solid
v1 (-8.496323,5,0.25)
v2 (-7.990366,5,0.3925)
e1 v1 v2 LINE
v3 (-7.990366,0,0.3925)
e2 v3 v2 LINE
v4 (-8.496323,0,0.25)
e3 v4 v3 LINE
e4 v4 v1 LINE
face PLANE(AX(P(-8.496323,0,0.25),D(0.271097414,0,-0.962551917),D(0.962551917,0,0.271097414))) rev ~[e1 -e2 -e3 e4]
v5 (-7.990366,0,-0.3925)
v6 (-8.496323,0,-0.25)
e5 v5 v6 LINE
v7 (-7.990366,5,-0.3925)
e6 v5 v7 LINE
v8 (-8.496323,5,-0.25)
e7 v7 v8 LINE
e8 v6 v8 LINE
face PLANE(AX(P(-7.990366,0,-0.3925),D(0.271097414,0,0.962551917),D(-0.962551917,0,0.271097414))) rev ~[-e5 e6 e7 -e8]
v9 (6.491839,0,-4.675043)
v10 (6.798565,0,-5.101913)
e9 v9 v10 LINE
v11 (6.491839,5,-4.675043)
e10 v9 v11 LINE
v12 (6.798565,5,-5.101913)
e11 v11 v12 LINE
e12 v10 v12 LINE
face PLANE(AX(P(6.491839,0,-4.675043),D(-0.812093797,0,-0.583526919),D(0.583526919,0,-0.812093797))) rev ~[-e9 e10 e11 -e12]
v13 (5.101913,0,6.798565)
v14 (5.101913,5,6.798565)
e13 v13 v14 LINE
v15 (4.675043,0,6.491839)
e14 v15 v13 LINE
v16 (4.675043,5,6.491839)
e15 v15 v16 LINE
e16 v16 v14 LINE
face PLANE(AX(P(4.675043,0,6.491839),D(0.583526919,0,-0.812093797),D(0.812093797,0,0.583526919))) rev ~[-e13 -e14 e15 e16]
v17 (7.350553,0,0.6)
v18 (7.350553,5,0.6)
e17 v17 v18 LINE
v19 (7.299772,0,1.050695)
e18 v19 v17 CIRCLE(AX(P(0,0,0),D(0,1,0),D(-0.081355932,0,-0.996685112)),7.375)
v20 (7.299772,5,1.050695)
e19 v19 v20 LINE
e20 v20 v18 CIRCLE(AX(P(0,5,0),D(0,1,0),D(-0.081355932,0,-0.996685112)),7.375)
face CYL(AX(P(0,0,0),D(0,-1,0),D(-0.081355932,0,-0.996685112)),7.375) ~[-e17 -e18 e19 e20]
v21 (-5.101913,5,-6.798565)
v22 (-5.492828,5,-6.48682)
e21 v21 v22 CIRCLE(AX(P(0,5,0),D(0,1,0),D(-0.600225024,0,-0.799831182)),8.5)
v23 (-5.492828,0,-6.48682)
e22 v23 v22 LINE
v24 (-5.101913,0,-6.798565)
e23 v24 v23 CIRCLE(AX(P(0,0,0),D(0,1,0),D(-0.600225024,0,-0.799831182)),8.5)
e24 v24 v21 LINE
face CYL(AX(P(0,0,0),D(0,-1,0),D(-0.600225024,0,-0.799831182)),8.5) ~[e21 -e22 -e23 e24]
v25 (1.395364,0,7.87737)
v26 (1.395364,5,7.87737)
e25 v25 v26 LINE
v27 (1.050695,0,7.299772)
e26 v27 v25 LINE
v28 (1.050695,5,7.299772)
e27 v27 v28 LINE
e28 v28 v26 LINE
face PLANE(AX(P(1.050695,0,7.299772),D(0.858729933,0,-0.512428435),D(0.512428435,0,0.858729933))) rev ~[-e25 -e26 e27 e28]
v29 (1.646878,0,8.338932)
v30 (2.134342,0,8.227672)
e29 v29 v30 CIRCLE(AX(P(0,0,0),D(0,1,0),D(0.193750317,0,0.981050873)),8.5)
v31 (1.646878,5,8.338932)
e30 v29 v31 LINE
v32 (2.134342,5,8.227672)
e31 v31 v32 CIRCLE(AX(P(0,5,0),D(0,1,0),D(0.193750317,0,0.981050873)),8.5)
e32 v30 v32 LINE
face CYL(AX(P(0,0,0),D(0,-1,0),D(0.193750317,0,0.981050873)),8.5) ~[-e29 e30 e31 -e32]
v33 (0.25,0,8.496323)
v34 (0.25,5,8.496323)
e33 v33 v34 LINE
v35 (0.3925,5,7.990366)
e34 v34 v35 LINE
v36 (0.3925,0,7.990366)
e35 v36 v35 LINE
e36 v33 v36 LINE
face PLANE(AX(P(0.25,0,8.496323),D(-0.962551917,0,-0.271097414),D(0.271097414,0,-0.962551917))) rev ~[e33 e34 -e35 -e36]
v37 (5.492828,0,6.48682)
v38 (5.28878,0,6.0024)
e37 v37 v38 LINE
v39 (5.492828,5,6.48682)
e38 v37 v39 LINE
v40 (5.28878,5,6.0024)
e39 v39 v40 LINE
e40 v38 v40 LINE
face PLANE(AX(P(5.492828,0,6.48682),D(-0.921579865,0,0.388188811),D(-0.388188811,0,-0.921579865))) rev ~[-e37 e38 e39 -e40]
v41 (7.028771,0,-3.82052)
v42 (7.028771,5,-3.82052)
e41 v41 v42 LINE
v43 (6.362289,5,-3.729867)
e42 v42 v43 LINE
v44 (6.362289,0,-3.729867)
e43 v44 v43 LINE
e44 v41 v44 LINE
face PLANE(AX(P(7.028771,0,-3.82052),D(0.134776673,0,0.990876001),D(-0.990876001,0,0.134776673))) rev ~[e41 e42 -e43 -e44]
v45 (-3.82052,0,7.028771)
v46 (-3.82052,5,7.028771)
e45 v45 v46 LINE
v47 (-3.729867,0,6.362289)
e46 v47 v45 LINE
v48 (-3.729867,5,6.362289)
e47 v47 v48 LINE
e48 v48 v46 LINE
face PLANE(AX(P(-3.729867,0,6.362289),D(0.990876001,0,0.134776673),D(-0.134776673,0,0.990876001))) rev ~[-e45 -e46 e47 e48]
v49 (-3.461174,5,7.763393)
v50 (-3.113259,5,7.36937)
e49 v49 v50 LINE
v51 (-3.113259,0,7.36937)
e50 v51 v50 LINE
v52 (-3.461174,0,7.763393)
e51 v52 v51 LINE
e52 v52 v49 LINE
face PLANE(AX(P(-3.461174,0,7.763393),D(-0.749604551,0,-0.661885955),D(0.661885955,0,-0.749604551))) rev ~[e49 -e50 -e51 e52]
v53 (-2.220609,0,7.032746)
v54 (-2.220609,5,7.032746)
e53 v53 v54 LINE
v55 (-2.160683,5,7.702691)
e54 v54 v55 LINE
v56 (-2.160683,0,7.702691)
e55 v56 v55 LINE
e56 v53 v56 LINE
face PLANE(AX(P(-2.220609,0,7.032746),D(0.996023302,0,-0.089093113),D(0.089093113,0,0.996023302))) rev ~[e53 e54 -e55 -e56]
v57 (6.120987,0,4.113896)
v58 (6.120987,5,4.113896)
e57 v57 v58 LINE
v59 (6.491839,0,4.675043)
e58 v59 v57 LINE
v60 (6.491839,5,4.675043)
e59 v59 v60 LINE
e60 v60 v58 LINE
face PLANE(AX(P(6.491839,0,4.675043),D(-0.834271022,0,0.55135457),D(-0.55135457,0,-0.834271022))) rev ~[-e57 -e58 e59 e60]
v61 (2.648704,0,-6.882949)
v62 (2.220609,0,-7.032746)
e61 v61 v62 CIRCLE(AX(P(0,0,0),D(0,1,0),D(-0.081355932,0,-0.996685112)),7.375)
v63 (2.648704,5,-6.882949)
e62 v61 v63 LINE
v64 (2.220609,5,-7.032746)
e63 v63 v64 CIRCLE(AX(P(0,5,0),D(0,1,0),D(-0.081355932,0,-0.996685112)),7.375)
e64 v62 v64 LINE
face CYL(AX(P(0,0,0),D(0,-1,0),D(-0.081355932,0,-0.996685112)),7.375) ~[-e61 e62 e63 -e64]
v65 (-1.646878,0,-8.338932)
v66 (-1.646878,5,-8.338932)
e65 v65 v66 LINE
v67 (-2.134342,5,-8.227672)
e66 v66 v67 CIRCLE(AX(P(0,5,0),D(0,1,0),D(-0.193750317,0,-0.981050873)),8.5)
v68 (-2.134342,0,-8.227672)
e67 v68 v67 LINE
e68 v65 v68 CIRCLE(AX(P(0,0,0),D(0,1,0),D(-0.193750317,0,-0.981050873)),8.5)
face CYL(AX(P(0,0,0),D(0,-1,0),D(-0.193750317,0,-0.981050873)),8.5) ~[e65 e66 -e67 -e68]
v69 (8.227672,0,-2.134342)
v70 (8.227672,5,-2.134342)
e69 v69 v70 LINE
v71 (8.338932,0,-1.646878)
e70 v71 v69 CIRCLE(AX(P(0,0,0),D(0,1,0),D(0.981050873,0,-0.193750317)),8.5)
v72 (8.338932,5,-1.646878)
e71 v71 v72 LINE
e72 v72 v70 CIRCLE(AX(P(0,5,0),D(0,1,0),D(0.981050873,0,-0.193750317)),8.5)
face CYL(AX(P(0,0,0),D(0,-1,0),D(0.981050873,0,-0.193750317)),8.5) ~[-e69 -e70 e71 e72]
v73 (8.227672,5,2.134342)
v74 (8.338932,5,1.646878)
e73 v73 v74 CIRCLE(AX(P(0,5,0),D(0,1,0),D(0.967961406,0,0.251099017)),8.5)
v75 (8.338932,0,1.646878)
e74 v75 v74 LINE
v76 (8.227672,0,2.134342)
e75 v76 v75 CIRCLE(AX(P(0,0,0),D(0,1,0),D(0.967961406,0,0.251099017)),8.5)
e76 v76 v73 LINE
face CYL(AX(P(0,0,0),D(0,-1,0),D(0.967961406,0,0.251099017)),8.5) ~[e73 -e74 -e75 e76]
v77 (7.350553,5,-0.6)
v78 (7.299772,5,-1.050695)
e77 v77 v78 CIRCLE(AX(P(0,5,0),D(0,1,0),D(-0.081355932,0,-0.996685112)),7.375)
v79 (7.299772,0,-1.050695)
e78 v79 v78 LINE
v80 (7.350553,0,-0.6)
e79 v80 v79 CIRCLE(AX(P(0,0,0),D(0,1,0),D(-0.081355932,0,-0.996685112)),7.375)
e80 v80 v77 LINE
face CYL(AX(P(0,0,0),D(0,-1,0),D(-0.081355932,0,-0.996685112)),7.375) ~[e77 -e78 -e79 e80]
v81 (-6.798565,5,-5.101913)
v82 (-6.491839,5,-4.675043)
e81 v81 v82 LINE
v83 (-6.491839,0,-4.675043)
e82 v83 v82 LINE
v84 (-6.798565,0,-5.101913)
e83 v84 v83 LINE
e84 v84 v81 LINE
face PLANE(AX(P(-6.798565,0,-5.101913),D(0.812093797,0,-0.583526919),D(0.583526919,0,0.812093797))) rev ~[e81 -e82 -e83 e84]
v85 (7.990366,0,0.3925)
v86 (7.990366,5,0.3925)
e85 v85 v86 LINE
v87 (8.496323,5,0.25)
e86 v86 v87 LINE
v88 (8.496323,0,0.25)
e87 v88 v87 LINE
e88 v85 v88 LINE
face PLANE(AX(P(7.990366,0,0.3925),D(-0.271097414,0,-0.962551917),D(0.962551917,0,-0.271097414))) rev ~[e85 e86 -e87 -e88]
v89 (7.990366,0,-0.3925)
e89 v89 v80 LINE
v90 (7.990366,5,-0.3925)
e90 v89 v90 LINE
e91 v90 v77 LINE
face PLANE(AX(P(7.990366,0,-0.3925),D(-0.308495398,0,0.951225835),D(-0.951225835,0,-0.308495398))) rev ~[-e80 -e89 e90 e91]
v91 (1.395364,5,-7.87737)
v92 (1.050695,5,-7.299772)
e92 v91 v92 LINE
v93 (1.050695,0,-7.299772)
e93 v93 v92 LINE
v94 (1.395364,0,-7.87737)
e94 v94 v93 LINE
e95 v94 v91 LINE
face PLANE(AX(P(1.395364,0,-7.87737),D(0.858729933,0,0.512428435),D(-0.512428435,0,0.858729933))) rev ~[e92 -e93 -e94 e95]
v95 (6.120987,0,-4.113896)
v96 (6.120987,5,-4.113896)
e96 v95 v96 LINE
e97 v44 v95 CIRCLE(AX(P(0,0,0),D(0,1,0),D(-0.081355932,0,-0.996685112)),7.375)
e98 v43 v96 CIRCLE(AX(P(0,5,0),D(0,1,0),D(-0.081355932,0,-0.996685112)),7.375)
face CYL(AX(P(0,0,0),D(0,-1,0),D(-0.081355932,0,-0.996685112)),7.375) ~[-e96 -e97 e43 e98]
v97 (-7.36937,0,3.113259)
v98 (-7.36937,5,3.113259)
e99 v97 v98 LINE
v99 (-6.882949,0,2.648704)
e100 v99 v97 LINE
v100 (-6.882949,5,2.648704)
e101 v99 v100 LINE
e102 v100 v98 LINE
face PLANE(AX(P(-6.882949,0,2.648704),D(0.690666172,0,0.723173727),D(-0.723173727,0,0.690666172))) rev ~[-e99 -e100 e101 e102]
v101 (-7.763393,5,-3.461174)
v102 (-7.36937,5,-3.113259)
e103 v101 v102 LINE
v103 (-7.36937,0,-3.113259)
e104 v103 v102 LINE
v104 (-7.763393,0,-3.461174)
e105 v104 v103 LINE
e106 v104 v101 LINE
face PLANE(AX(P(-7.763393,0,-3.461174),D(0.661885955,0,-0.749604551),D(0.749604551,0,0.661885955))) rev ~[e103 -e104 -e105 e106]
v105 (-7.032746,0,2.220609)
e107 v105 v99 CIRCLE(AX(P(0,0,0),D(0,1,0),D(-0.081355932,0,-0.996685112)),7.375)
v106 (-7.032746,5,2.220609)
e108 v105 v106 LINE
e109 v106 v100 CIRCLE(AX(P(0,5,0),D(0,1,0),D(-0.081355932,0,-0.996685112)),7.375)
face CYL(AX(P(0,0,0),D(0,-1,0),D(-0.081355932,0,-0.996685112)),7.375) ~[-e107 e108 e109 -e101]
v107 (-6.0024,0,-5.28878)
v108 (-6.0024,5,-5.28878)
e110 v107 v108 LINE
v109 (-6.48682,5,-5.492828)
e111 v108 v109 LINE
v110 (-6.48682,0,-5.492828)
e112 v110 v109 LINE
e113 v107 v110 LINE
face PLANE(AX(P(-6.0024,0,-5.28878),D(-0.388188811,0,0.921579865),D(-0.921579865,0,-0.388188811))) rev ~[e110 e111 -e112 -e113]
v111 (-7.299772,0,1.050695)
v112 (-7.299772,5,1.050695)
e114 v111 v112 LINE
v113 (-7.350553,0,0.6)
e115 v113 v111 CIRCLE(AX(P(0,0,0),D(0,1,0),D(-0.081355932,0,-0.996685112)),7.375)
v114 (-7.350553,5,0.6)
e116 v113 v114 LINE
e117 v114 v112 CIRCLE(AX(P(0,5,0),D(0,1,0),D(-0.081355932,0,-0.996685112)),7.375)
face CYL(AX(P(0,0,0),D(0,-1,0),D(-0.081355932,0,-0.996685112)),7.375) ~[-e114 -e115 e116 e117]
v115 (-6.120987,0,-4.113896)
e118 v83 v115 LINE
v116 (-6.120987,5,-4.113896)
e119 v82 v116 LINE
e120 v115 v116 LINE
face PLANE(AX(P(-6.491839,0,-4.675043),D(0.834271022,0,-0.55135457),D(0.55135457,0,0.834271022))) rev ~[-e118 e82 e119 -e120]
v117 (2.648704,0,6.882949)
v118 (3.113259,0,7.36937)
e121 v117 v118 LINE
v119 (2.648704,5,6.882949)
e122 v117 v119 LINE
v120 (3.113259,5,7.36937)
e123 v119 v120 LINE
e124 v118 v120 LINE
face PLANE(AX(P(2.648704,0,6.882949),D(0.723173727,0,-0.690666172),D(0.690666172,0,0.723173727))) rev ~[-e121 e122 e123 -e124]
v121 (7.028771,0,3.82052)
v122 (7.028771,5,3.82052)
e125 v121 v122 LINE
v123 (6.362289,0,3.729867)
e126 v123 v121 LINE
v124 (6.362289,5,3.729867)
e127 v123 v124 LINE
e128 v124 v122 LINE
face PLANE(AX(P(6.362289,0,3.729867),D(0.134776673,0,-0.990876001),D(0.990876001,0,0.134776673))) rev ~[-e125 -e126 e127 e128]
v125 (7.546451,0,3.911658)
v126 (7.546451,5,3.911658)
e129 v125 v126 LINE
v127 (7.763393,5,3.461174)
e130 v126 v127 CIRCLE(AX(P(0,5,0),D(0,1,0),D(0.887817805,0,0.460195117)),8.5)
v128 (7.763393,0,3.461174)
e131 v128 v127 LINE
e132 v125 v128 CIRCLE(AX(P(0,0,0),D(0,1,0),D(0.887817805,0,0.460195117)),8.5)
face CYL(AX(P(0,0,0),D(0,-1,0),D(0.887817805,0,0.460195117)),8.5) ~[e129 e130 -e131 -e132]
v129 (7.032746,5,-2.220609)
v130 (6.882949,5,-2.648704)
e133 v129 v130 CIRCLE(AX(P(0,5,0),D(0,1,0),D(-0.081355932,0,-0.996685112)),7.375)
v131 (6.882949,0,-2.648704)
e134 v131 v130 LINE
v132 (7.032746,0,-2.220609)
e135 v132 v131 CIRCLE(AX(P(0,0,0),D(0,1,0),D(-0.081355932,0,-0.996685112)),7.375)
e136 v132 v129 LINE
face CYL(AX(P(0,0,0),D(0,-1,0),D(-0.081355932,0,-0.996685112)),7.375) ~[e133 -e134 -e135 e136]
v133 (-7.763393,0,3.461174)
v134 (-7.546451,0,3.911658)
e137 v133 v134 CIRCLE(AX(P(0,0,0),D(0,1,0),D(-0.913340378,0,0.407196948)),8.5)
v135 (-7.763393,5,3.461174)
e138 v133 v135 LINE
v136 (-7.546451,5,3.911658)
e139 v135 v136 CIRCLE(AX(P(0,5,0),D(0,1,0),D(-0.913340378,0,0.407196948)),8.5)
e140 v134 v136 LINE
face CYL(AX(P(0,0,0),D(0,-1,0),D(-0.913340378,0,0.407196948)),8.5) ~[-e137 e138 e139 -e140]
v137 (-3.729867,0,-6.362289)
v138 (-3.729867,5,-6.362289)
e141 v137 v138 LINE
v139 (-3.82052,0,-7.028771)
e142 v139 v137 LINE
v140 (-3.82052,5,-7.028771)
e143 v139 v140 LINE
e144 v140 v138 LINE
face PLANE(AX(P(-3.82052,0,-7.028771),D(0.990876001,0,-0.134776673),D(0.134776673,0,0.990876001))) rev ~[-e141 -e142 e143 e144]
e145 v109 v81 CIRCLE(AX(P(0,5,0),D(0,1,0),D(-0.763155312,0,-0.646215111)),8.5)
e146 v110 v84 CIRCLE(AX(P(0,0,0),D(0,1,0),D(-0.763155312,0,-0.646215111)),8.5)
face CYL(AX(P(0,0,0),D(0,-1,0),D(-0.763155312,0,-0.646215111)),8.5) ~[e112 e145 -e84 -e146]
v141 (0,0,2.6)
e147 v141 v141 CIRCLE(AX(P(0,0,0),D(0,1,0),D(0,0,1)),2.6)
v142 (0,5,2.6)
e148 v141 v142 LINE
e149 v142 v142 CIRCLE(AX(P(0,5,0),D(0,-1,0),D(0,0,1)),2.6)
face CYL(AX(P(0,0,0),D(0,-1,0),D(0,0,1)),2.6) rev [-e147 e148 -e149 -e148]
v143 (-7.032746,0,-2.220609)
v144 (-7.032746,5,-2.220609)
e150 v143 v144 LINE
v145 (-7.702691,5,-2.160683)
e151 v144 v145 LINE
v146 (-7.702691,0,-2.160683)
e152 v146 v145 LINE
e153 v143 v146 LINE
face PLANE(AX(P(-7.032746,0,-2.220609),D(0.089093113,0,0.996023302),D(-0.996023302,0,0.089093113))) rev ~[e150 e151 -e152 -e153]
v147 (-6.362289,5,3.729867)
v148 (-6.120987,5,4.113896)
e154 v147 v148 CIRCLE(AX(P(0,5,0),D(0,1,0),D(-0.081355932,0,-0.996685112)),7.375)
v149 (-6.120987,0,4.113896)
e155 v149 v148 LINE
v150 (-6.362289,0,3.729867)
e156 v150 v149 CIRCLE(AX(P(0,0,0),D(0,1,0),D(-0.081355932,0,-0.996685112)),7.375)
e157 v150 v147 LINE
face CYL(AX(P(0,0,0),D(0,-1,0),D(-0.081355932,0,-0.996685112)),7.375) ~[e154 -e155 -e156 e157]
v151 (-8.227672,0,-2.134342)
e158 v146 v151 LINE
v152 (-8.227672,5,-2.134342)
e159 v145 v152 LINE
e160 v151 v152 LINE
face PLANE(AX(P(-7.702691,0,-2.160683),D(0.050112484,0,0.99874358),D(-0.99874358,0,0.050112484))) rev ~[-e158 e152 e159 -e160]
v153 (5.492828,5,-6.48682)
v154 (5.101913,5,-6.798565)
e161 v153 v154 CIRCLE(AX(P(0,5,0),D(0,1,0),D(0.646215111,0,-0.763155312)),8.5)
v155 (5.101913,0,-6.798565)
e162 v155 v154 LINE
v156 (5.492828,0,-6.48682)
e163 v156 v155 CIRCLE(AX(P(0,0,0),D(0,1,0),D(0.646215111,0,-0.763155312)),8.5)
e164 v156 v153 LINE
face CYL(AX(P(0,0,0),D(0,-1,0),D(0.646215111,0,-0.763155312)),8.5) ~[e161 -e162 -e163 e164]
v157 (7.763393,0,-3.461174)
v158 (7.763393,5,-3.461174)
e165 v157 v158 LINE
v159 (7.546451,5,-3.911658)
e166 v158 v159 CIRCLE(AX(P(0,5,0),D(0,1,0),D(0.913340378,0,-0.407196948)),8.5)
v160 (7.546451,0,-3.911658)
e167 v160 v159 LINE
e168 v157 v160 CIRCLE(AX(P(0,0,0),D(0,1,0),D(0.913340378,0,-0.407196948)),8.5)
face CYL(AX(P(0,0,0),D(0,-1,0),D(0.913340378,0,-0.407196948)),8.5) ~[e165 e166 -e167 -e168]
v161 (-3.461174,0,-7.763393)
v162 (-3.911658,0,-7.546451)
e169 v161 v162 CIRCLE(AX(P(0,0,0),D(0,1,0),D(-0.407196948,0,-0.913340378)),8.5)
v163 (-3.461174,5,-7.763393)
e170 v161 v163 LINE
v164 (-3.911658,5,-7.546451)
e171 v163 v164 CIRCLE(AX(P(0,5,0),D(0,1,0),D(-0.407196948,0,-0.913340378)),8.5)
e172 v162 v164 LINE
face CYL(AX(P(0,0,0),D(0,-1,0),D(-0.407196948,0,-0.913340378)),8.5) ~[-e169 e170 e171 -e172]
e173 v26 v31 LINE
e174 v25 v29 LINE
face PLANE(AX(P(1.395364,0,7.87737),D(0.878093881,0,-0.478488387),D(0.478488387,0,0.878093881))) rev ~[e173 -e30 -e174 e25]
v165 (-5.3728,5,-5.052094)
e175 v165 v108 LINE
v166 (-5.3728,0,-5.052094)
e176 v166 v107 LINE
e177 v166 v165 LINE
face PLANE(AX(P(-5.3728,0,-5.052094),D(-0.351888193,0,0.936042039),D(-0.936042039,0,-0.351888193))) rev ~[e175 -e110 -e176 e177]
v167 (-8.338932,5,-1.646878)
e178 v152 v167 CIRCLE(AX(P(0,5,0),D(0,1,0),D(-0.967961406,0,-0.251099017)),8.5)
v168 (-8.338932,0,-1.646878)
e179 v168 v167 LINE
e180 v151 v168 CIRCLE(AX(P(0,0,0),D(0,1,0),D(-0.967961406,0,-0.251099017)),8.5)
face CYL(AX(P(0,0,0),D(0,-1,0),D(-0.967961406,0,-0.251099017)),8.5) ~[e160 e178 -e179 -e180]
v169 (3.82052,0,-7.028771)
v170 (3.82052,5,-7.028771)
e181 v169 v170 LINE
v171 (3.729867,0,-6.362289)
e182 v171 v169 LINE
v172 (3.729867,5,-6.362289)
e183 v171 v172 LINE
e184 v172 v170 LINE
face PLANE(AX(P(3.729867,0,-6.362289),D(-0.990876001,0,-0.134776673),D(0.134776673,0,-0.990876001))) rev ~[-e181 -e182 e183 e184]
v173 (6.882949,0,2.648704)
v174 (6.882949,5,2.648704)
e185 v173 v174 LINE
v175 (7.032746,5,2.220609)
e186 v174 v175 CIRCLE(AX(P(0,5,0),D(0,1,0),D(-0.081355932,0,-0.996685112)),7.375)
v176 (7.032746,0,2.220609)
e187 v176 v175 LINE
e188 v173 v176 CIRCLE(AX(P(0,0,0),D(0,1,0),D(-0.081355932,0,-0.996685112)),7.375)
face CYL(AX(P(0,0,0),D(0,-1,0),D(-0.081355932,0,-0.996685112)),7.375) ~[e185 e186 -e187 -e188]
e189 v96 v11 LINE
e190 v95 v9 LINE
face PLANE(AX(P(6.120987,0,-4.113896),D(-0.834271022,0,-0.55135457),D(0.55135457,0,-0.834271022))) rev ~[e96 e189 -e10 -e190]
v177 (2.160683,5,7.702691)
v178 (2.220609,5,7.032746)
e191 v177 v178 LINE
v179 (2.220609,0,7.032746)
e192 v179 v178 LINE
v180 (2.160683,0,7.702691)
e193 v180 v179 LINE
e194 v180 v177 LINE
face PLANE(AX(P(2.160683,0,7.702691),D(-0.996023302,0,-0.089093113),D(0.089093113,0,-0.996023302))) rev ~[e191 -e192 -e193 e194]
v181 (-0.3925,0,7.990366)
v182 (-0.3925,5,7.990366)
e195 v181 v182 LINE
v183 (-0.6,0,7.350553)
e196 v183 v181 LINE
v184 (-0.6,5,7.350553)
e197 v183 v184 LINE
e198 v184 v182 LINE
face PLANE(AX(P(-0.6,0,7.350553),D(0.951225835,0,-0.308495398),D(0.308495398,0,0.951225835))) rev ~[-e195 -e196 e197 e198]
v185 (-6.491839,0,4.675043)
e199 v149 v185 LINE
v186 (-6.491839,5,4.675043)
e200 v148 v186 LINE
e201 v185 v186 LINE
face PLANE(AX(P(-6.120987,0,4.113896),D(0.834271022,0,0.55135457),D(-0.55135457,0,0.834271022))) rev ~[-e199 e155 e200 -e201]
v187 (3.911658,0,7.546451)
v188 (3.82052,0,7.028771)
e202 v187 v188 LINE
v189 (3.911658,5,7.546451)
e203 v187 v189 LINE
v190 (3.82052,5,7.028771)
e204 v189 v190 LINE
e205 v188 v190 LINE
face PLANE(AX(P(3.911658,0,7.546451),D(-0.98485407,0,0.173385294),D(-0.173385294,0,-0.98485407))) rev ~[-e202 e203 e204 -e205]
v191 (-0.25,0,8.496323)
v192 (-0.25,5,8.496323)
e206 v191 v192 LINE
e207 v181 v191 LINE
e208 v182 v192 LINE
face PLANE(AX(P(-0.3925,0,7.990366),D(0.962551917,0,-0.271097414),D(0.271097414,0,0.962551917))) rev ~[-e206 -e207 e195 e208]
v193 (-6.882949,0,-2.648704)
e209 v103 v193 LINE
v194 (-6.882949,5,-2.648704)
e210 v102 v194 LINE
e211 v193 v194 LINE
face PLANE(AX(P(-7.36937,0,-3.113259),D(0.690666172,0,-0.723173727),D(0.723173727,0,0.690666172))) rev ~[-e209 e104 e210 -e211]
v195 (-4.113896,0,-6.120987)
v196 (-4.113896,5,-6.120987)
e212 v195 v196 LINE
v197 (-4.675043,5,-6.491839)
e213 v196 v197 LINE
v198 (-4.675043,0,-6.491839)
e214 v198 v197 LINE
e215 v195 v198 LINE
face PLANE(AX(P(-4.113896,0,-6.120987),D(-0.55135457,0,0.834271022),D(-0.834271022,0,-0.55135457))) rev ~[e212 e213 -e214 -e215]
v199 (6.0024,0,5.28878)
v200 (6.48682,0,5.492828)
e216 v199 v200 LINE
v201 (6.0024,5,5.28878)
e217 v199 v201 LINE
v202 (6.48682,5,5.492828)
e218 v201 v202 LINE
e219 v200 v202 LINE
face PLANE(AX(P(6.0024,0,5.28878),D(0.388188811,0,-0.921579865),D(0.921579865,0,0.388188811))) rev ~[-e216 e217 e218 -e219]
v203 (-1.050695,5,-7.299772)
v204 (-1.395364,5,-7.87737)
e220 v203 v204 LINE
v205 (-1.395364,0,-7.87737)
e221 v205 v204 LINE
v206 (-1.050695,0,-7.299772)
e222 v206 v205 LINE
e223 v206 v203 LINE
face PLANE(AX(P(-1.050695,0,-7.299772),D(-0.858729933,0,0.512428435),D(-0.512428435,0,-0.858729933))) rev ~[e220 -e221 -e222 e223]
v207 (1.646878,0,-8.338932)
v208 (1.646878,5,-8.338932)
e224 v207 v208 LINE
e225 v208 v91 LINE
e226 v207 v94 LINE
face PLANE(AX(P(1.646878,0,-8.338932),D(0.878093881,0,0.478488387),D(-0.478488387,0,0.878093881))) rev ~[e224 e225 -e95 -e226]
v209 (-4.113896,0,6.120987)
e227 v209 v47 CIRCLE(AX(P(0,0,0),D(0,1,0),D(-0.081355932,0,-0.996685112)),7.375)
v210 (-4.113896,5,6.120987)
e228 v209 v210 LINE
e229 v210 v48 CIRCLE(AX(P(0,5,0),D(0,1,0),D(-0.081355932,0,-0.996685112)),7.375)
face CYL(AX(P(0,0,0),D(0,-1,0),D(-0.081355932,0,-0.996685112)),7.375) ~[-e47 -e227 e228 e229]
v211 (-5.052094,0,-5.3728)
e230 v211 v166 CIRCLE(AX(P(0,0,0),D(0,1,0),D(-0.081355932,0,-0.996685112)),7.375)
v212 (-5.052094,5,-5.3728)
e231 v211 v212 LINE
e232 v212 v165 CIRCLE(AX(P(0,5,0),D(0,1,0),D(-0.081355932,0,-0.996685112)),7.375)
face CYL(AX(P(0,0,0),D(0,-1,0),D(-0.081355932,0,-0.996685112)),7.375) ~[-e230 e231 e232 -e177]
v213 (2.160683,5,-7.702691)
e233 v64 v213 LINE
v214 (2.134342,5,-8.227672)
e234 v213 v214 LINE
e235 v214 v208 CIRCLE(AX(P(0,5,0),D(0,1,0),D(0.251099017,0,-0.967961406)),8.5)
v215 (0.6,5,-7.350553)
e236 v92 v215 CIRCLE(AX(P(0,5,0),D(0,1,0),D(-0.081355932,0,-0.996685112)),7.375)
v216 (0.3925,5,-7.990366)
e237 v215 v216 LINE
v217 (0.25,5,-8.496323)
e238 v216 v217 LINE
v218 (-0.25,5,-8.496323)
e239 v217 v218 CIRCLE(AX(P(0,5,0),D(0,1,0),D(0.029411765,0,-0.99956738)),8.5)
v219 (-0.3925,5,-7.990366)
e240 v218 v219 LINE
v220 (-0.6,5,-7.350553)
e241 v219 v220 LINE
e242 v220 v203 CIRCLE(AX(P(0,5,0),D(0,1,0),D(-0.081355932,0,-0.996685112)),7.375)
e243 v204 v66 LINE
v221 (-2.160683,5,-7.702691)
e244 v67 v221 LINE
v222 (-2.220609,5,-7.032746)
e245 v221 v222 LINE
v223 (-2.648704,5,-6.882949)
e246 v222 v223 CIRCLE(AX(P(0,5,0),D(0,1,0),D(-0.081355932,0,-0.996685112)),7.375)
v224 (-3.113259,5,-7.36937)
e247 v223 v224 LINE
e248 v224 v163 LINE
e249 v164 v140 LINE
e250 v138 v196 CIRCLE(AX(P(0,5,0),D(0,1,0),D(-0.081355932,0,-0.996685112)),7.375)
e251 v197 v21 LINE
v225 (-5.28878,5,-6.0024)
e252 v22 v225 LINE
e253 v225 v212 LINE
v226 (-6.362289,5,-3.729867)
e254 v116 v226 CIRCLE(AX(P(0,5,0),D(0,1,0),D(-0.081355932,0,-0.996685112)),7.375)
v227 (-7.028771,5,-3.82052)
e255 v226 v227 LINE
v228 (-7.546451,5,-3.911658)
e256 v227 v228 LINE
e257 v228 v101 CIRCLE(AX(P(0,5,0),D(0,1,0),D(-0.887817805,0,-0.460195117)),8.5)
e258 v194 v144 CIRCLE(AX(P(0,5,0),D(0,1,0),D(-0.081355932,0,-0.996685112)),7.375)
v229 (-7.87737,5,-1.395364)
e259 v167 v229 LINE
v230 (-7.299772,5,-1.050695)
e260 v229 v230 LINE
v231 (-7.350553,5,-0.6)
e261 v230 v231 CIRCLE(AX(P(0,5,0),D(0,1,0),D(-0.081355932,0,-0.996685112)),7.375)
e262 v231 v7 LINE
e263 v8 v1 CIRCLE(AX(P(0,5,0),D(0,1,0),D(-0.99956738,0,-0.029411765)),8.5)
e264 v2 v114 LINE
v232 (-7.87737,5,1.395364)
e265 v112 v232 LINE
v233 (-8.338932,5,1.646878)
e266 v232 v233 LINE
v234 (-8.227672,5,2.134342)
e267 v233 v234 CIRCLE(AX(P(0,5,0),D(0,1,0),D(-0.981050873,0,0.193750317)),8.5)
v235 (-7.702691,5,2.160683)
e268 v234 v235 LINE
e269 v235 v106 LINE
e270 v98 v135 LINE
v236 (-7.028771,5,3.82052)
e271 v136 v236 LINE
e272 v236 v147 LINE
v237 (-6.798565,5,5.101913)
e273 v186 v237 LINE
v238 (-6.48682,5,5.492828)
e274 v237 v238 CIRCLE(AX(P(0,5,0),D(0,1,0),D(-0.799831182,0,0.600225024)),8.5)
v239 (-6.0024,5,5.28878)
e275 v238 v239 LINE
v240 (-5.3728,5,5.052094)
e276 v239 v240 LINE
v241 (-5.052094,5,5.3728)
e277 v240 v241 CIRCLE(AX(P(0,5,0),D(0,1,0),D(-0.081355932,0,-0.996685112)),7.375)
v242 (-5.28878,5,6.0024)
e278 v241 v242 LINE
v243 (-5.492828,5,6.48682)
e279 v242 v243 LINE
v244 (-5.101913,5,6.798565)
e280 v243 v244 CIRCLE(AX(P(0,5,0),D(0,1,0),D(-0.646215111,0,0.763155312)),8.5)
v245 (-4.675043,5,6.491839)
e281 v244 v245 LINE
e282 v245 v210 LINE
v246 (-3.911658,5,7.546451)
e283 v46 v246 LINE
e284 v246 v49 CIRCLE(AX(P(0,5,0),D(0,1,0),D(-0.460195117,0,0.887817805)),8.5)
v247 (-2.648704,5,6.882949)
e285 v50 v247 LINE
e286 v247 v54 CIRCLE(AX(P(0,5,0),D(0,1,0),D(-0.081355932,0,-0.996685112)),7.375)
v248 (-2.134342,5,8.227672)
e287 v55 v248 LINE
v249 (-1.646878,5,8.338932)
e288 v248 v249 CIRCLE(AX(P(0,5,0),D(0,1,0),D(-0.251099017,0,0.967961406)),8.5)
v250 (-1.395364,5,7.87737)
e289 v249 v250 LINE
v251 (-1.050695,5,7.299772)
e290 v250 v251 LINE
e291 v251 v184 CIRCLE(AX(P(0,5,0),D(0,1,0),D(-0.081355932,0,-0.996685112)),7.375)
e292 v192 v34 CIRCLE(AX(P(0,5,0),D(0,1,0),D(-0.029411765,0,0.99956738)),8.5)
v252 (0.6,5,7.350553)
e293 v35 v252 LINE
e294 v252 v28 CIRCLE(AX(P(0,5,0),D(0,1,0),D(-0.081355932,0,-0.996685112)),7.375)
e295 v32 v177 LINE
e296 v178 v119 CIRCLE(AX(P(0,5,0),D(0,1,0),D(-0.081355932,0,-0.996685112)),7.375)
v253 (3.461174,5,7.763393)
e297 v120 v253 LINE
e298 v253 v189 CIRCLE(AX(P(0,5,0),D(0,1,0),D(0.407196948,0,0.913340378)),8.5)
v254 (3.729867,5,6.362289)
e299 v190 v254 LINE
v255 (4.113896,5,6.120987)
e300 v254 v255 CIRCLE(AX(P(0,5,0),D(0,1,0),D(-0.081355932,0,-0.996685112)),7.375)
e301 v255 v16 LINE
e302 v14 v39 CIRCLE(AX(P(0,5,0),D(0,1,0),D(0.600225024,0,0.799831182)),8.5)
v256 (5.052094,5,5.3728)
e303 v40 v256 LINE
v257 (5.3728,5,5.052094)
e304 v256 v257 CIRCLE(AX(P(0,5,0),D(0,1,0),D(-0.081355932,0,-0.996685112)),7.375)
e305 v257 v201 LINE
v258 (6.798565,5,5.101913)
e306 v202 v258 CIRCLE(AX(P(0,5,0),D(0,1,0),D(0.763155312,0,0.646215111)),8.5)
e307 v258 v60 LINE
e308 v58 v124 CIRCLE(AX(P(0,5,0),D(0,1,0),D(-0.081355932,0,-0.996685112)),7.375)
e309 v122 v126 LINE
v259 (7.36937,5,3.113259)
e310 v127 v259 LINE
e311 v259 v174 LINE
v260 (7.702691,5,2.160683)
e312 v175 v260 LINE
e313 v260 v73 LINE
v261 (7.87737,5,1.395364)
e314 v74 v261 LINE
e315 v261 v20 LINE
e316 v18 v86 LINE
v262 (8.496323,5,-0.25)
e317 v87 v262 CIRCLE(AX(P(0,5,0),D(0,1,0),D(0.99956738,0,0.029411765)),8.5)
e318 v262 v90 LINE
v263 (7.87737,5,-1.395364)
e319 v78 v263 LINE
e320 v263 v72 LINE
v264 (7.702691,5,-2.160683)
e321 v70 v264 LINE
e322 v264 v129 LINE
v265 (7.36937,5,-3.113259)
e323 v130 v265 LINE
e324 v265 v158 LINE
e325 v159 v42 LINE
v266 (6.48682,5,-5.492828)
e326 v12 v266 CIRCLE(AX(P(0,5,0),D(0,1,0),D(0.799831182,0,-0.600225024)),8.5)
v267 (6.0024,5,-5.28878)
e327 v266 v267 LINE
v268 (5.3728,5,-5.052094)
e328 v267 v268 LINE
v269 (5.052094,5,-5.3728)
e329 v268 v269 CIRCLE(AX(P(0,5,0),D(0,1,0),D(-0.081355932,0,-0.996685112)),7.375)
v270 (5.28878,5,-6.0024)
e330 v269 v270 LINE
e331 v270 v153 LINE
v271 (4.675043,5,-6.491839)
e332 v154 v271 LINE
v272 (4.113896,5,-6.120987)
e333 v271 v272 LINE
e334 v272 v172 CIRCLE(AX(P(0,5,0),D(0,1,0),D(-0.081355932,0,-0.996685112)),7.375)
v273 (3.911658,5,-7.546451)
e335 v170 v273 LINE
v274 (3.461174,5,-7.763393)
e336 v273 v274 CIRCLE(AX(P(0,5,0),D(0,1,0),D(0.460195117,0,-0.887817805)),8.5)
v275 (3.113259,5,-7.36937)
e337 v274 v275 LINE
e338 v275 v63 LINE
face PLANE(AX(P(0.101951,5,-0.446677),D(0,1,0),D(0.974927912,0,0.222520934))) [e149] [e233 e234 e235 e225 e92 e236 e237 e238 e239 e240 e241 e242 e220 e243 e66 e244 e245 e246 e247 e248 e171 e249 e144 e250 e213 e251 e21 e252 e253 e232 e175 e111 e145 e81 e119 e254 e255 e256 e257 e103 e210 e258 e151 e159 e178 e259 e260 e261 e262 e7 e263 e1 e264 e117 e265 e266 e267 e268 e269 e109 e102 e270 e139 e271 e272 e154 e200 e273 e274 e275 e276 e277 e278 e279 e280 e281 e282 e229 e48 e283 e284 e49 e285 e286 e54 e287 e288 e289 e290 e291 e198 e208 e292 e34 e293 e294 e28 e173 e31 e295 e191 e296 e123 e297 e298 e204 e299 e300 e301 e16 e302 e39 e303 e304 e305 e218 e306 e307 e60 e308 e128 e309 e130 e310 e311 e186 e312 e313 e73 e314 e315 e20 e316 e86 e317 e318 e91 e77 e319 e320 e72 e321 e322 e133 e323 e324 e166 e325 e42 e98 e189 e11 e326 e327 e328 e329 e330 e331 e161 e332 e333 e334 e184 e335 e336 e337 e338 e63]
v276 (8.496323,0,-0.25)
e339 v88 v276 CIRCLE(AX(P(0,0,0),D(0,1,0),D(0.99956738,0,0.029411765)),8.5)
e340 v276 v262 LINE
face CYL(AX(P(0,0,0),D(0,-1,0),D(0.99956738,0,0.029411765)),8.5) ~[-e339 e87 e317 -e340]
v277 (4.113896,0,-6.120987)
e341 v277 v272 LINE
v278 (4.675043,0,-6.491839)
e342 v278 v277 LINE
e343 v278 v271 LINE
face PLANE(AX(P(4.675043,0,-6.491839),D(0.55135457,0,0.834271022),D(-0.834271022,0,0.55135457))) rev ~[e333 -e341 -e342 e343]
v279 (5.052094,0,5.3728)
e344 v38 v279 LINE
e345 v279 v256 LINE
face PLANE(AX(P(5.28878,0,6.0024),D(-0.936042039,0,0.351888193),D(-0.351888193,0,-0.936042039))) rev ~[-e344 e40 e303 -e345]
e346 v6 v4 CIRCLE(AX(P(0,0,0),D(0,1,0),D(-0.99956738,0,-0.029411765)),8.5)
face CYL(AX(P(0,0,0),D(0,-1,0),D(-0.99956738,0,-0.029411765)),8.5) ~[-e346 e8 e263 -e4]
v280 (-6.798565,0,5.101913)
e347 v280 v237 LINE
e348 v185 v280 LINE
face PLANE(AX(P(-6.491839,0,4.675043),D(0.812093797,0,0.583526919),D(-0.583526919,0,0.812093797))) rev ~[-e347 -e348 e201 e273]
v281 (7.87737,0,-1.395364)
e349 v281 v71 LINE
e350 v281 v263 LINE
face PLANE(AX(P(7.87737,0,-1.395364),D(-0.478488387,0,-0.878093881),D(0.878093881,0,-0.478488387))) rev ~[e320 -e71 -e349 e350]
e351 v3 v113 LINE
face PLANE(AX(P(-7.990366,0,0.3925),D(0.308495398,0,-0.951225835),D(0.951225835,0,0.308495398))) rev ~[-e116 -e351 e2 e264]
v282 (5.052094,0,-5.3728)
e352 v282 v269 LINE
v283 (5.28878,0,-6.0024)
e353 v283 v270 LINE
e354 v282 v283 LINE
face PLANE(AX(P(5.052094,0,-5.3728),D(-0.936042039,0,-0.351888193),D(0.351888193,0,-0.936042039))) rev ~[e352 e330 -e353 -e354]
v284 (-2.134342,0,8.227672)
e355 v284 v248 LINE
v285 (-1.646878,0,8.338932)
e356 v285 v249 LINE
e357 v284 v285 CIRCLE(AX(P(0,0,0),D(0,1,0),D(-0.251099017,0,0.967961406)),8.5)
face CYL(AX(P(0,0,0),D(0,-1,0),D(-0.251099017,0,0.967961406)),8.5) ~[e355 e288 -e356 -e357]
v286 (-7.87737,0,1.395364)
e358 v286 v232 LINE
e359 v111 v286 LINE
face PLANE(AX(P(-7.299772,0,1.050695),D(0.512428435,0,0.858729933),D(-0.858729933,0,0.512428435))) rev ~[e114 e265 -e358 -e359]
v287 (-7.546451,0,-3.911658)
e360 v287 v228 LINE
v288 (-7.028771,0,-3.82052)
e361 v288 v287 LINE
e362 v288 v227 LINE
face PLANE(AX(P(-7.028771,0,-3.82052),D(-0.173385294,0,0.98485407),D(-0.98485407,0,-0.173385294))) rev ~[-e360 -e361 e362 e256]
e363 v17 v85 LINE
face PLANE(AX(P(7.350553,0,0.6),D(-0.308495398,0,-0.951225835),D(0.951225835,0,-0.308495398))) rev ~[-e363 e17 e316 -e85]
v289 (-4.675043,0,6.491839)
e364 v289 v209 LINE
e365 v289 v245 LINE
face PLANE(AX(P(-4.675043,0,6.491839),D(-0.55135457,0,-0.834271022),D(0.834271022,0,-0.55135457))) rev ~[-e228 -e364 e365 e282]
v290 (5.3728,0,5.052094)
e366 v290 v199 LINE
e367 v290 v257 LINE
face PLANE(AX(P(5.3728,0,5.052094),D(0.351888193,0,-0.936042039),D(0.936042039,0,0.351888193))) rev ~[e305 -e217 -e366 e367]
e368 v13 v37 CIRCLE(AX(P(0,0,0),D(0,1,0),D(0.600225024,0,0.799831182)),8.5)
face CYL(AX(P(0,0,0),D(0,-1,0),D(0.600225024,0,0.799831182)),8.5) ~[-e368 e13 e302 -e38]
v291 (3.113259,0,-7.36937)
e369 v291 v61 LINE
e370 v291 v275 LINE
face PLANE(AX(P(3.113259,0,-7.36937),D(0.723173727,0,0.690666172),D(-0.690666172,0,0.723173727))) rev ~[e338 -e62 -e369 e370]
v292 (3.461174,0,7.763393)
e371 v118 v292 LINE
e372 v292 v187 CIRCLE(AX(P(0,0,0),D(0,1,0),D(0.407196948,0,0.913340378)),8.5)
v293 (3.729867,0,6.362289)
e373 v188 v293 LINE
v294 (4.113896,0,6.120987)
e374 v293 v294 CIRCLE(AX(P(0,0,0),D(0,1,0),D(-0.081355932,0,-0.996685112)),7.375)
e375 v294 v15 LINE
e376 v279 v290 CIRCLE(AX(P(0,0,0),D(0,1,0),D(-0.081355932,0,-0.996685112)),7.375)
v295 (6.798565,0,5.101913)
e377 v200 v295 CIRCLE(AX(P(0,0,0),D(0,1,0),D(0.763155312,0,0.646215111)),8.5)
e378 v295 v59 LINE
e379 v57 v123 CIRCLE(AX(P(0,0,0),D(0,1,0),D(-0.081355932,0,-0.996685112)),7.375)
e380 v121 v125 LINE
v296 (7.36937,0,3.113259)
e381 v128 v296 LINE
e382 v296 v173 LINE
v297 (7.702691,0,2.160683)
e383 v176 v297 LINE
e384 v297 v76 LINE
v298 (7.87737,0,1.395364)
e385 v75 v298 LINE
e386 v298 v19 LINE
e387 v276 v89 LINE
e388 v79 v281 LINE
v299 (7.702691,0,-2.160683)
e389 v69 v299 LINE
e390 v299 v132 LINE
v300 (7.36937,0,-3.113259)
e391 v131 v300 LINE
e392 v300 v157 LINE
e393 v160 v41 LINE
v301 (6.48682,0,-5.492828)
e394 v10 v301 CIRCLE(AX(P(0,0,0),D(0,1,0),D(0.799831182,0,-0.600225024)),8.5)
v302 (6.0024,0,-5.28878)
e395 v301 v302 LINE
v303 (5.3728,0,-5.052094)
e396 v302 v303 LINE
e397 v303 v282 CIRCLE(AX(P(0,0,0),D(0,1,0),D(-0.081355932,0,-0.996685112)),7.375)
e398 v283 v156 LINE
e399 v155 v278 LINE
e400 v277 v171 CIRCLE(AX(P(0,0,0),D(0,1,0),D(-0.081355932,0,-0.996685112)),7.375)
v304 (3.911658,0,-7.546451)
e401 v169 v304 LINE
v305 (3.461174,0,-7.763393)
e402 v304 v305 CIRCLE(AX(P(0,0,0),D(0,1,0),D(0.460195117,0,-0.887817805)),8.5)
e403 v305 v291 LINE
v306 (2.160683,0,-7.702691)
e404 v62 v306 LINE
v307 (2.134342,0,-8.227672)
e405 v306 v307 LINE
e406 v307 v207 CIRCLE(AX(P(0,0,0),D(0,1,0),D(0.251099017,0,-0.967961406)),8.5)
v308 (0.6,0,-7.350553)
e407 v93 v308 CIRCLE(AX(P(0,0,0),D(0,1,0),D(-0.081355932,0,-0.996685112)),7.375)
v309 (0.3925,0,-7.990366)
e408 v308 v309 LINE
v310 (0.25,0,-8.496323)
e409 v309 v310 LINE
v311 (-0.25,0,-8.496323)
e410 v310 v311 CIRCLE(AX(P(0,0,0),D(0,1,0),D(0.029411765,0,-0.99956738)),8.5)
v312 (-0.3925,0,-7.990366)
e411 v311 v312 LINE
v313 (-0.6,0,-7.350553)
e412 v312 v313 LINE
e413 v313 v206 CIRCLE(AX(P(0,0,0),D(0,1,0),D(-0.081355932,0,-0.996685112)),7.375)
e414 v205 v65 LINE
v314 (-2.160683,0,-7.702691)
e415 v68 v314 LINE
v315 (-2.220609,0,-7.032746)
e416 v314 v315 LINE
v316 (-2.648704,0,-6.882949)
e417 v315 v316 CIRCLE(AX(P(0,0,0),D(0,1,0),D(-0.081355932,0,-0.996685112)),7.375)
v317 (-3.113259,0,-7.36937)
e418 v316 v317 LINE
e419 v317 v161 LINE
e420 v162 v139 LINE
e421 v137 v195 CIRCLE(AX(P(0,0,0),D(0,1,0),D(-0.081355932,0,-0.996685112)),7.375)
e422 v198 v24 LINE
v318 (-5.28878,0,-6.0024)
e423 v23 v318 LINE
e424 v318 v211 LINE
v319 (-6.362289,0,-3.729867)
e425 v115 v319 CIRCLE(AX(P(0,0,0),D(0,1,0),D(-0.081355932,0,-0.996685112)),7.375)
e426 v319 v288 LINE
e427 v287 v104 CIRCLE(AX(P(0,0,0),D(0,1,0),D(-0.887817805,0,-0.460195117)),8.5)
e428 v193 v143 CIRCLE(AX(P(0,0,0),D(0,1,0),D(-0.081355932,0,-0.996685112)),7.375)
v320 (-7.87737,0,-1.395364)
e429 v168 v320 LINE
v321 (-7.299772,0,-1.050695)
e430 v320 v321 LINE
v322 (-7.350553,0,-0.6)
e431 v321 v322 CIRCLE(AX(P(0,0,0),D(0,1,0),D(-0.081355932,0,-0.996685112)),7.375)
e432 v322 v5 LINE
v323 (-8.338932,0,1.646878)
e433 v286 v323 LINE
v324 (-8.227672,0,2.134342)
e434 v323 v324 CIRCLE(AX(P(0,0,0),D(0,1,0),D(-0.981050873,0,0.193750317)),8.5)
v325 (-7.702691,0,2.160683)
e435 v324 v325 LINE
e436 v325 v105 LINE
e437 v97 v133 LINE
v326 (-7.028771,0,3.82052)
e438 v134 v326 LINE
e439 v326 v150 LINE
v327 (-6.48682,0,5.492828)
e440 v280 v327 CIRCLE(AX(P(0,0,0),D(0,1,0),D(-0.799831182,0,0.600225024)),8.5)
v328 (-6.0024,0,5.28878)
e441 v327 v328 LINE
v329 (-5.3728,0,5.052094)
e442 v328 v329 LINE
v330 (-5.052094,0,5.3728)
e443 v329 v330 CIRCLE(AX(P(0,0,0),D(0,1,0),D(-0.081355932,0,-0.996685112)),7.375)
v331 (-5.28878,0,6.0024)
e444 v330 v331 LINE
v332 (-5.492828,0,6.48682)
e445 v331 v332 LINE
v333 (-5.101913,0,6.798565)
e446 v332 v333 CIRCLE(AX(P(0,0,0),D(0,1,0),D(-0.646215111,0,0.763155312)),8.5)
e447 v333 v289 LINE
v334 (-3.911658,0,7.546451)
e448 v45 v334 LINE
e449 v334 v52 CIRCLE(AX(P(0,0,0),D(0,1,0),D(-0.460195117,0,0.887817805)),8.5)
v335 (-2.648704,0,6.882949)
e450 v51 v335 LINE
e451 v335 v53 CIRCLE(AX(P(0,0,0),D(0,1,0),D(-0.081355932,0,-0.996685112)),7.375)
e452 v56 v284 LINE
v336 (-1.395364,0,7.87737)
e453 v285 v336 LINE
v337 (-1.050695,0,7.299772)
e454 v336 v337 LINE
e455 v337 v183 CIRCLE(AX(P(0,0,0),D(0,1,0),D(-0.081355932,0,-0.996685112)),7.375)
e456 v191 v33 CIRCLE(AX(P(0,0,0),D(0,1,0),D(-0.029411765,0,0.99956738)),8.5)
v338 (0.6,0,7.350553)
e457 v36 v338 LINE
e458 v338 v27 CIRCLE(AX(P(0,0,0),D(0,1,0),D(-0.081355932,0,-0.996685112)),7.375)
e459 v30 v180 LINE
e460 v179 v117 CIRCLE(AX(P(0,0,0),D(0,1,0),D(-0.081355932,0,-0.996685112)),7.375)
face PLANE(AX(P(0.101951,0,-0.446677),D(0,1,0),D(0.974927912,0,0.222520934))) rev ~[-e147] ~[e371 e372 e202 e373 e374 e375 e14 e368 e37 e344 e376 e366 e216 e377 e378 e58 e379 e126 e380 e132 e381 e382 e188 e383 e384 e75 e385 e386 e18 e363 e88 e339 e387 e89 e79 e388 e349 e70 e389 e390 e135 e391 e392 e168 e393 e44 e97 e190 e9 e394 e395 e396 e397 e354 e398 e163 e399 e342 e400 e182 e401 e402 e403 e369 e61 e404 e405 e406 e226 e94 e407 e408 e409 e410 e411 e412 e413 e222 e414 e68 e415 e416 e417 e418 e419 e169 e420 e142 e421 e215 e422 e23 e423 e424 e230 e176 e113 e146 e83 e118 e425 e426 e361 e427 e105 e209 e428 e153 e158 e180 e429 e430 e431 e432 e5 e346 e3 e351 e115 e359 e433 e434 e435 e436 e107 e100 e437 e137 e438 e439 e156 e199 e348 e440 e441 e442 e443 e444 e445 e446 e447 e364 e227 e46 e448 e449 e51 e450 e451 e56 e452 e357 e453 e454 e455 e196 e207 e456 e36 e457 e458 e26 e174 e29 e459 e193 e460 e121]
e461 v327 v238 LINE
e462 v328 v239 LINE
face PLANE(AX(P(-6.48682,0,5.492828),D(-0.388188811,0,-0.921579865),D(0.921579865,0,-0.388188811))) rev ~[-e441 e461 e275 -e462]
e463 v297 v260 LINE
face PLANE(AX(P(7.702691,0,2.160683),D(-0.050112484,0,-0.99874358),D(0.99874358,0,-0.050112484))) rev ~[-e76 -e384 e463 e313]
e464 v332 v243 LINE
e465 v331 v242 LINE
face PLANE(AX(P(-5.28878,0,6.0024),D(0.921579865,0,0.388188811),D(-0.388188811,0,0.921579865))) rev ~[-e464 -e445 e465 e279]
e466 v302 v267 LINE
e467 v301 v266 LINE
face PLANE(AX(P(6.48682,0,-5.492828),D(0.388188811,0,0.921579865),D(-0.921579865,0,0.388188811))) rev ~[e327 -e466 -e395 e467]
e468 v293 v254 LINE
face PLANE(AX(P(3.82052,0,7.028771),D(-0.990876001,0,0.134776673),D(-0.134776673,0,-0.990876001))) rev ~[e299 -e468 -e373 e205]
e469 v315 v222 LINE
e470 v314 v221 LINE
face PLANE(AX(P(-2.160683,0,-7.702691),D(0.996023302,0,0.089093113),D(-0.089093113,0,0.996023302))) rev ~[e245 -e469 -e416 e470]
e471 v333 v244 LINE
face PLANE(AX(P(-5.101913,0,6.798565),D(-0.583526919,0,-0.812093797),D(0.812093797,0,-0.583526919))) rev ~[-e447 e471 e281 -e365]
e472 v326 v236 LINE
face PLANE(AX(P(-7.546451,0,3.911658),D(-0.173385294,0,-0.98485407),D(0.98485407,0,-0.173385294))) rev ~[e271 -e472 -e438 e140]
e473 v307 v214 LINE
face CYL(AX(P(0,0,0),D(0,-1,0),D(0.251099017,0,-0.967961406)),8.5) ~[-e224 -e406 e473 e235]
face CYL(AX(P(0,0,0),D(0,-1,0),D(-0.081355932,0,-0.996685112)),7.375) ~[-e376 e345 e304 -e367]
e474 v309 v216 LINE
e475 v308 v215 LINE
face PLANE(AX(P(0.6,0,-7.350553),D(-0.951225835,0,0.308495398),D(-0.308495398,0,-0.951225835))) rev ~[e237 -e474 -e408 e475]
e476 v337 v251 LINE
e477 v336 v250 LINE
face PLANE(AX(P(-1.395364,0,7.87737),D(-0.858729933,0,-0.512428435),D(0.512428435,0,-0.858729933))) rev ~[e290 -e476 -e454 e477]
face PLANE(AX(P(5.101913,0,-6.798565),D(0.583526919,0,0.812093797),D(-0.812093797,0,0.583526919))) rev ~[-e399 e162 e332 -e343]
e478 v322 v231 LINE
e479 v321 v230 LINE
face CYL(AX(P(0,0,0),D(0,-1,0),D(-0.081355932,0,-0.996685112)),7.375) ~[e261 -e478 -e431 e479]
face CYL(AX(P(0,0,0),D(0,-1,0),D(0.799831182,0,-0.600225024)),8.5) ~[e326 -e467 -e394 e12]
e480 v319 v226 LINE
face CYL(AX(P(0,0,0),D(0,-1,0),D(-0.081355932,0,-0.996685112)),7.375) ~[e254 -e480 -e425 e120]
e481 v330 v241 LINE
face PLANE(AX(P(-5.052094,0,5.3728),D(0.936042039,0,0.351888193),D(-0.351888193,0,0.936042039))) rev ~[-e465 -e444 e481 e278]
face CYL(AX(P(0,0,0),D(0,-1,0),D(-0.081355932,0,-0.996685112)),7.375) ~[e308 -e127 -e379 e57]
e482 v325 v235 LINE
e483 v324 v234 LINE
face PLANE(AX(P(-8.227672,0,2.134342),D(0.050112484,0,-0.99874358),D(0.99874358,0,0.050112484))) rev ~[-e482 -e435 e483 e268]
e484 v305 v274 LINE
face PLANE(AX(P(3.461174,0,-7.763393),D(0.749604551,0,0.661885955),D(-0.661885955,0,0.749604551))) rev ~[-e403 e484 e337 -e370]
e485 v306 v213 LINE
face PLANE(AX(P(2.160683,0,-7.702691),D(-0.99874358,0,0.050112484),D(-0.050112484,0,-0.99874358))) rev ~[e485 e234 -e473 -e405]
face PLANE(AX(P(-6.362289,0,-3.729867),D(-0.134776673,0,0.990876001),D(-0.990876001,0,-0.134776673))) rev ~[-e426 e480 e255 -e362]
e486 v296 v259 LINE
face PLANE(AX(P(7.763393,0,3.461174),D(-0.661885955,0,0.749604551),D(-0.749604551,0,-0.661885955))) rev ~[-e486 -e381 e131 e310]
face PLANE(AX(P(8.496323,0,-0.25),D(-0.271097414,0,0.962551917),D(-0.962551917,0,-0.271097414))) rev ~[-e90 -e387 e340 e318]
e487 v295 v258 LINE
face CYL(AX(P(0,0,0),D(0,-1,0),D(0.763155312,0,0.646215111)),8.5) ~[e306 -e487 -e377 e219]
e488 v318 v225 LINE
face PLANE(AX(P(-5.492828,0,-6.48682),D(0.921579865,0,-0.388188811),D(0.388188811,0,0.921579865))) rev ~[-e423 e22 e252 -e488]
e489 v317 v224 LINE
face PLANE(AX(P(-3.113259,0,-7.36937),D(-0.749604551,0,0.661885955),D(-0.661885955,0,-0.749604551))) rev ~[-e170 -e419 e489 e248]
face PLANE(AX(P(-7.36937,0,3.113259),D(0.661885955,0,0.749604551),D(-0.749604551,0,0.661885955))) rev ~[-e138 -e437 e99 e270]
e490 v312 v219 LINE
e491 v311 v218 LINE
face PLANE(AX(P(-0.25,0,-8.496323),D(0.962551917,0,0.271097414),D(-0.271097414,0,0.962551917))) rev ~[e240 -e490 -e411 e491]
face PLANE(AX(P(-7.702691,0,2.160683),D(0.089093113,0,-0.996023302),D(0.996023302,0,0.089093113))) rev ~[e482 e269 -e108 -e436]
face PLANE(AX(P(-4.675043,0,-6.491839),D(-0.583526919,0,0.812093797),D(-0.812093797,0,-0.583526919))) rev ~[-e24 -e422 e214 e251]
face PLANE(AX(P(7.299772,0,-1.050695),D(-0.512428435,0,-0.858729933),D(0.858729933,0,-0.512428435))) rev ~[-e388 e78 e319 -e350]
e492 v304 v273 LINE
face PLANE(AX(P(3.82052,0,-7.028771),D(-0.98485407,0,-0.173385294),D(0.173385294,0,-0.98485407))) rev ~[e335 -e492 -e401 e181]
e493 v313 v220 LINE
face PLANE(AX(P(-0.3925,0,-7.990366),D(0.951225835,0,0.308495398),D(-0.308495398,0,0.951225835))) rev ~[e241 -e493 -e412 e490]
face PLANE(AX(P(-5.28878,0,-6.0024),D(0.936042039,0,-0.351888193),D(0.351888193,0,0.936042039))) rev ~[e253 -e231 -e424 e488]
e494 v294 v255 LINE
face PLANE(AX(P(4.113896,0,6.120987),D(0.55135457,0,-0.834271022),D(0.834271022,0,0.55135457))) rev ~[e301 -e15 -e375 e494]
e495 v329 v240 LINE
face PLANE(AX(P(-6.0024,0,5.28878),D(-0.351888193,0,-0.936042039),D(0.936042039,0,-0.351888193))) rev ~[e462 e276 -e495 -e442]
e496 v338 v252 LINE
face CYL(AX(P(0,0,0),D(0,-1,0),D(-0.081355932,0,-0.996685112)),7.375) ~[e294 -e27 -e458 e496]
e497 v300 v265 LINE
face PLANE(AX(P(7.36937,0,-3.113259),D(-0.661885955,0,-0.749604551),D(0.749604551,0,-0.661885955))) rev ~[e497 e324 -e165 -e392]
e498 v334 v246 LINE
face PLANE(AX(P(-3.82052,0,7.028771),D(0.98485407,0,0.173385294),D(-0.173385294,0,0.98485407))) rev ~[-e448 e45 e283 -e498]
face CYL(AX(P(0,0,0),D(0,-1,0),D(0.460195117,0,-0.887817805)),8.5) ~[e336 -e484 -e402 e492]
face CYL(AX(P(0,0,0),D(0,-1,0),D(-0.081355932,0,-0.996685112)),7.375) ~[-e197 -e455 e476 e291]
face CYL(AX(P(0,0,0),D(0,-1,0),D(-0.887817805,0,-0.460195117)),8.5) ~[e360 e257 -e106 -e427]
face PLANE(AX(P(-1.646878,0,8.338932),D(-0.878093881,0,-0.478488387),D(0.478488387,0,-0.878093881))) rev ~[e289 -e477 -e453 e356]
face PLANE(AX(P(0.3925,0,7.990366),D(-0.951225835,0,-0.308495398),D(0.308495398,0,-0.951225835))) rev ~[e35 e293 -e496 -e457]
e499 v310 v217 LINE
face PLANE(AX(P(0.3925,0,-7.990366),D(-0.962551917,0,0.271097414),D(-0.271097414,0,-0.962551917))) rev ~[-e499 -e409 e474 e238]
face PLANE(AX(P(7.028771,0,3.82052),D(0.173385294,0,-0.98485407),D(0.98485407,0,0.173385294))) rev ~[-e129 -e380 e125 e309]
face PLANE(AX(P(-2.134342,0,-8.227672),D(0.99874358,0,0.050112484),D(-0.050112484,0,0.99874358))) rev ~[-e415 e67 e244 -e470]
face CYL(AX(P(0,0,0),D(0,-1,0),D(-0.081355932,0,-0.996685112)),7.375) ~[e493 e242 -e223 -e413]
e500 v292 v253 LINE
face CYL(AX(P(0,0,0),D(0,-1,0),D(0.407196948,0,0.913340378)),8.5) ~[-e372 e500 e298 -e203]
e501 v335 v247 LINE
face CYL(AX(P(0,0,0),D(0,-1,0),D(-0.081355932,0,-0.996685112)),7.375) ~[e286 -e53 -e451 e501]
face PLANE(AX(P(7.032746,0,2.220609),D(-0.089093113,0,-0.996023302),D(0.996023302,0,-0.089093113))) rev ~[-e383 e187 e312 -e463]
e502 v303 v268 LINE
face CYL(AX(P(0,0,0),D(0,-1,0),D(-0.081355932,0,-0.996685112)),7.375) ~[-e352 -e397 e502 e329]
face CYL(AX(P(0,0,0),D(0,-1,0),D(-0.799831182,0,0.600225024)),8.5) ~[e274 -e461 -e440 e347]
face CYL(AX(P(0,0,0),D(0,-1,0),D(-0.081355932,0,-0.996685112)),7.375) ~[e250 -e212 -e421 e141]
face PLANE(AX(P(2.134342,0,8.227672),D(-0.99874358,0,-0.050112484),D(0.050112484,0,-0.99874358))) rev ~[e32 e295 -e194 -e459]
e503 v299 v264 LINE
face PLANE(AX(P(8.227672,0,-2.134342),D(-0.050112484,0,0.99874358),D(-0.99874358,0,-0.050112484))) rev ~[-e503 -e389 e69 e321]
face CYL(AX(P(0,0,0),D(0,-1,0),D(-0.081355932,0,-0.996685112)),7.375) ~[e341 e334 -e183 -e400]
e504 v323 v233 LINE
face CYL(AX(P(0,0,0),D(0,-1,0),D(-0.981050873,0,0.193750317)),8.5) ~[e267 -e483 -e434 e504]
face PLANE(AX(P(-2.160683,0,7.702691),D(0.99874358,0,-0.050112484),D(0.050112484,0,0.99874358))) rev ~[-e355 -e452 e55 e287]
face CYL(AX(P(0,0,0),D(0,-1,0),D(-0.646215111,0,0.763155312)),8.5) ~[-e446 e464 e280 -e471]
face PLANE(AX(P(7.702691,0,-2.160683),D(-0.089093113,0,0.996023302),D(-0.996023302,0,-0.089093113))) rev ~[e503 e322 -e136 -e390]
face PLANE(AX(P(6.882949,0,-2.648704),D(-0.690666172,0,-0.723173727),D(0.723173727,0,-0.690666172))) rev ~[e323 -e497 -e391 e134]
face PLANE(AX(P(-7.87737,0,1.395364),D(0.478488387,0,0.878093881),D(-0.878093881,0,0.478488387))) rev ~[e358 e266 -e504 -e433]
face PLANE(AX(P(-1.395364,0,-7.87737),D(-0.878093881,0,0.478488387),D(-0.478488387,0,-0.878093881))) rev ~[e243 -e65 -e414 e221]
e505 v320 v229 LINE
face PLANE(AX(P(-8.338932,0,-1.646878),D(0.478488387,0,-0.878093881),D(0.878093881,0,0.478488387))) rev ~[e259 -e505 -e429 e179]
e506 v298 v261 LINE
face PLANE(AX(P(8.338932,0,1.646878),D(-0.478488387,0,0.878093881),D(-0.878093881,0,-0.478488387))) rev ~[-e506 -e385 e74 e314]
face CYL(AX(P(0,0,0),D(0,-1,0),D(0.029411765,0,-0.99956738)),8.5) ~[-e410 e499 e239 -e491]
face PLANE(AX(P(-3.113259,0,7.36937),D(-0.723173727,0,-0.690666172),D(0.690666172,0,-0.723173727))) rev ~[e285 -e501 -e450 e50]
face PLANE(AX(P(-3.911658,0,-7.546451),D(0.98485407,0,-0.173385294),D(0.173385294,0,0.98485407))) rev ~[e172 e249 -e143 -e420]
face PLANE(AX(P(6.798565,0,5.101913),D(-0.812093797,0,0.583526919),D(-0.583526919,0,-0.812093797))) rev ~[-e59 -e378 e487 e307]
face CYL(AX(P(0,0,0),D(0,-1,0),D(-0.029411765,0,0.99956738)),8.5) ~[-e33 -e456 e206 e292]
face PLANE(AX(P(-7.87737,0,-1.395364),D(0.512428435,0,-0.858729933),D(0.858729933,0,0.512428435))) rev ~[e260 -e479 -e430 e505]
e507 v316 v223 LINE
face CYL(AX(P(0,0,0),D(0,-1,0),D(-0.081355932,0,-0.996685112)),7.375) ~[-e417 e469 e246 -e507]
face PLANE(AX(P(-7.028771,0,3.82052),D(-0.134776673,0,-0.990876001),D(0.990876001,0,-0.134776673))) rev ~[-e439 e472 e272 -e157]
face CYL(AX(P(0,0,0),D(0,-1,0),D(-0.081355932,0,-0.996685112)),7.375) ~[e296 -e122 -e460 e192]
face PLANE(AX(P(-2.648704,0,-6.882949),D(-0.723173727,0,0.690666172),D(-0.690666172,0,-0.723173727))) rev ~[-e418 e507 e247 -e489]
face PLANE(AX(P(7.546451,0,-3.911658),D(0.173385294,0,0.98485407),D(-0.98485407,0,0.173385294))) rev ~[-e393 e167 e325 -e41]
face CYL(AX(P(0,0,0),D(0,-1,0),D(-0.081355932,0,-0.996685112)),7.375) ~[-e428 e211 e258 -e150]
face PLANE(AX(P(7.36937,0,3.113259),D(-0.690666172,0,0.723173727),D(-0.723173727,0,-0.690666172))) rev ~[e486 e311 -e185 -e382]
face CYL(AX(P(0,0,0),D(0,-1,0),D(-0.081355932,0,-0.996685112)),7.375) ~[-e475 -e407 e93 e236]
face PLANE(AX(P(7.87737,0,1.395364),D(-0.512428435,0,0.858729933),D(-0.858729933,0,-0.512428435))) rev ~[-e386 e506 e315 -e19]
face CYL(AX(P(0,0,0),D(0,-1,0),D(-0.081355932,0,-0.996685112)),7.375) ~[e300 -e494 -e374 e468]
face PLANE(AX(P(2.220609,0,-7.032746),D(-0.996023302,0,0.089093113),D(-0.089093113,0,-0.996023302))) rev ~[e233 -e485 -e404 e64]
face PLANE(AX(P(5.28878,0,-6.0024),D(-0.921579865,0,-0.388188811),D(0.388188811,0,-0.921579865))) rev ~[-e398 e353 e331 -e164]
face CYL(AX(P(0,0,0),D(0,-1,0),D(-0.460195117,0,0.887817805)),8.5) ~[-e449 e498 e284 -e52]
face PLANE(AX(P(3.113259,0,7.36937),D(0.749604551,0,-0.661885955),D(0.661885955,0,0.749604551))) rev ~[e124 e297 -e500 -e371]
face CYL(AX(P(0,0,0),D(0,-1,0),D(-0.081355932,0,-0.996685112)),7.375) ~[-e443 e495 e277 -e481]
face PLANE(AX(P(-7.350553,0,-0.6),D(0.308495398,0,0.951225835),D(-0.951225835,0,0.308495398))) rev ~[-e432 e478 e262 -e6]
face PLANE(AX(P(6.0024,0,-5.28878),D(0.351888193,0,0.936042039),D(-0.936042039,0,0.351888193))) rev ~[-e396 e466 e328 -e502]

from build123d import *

# Parameters (mm, degrees)
SKETCH2_R           = 2.6
BOSS_EXTRUDE1_DEPTH = 5
CIRPATTERN1_COUNT   = 28


with BuildPart() as part:
    # Sketch2 → Boss-Extrude1 (new body)
    with BuildSketch(Plane(origin=(0, 0, 0), x_dir=(1, 0, 0), z_dir=(0, 1, 0))):
        with BuildLine():
            Line((0.6, 7.3505527), (0.3925, 7.990365683))
            Line((0.3925, 7.990365683), (0.25, 8.496322734))
            ThreePointArc((0.25, 8.496322734), (0, 8.5), (-0.25, 8.496322734))
            Line((-0.25, 8.496322734), (-0.3925, 7.990365683))
            Line((-0.3925, 7.990365683), (-0.6, 7.3505527))
            ThreePointArc((-0.6, 7.3505527), (0, -7.375), (0.6, 7.3505527))
        make_face()
        with Locations(Location((0, 0, 0), (0, 0, 270))):
            Circle(SKETCH2_R, mode=Mode.SUBTRACT)
    boss_extrude1 = extrude(amount=BOSS_EXTRUDE1_DEPTH)

    # CirPattern1: Boss-Extrude1 ×28 about axis
    cirpattern1_axis = Axis((0, 0, 0), (0, 1, 0))
    for i in range(1, CIRPATTERN1_COUNT):
        add(boss_extrude1.rotate(cirpattern1_axis, i * 360 / CIRPATTERN1_COUNT))


solid = part.part
